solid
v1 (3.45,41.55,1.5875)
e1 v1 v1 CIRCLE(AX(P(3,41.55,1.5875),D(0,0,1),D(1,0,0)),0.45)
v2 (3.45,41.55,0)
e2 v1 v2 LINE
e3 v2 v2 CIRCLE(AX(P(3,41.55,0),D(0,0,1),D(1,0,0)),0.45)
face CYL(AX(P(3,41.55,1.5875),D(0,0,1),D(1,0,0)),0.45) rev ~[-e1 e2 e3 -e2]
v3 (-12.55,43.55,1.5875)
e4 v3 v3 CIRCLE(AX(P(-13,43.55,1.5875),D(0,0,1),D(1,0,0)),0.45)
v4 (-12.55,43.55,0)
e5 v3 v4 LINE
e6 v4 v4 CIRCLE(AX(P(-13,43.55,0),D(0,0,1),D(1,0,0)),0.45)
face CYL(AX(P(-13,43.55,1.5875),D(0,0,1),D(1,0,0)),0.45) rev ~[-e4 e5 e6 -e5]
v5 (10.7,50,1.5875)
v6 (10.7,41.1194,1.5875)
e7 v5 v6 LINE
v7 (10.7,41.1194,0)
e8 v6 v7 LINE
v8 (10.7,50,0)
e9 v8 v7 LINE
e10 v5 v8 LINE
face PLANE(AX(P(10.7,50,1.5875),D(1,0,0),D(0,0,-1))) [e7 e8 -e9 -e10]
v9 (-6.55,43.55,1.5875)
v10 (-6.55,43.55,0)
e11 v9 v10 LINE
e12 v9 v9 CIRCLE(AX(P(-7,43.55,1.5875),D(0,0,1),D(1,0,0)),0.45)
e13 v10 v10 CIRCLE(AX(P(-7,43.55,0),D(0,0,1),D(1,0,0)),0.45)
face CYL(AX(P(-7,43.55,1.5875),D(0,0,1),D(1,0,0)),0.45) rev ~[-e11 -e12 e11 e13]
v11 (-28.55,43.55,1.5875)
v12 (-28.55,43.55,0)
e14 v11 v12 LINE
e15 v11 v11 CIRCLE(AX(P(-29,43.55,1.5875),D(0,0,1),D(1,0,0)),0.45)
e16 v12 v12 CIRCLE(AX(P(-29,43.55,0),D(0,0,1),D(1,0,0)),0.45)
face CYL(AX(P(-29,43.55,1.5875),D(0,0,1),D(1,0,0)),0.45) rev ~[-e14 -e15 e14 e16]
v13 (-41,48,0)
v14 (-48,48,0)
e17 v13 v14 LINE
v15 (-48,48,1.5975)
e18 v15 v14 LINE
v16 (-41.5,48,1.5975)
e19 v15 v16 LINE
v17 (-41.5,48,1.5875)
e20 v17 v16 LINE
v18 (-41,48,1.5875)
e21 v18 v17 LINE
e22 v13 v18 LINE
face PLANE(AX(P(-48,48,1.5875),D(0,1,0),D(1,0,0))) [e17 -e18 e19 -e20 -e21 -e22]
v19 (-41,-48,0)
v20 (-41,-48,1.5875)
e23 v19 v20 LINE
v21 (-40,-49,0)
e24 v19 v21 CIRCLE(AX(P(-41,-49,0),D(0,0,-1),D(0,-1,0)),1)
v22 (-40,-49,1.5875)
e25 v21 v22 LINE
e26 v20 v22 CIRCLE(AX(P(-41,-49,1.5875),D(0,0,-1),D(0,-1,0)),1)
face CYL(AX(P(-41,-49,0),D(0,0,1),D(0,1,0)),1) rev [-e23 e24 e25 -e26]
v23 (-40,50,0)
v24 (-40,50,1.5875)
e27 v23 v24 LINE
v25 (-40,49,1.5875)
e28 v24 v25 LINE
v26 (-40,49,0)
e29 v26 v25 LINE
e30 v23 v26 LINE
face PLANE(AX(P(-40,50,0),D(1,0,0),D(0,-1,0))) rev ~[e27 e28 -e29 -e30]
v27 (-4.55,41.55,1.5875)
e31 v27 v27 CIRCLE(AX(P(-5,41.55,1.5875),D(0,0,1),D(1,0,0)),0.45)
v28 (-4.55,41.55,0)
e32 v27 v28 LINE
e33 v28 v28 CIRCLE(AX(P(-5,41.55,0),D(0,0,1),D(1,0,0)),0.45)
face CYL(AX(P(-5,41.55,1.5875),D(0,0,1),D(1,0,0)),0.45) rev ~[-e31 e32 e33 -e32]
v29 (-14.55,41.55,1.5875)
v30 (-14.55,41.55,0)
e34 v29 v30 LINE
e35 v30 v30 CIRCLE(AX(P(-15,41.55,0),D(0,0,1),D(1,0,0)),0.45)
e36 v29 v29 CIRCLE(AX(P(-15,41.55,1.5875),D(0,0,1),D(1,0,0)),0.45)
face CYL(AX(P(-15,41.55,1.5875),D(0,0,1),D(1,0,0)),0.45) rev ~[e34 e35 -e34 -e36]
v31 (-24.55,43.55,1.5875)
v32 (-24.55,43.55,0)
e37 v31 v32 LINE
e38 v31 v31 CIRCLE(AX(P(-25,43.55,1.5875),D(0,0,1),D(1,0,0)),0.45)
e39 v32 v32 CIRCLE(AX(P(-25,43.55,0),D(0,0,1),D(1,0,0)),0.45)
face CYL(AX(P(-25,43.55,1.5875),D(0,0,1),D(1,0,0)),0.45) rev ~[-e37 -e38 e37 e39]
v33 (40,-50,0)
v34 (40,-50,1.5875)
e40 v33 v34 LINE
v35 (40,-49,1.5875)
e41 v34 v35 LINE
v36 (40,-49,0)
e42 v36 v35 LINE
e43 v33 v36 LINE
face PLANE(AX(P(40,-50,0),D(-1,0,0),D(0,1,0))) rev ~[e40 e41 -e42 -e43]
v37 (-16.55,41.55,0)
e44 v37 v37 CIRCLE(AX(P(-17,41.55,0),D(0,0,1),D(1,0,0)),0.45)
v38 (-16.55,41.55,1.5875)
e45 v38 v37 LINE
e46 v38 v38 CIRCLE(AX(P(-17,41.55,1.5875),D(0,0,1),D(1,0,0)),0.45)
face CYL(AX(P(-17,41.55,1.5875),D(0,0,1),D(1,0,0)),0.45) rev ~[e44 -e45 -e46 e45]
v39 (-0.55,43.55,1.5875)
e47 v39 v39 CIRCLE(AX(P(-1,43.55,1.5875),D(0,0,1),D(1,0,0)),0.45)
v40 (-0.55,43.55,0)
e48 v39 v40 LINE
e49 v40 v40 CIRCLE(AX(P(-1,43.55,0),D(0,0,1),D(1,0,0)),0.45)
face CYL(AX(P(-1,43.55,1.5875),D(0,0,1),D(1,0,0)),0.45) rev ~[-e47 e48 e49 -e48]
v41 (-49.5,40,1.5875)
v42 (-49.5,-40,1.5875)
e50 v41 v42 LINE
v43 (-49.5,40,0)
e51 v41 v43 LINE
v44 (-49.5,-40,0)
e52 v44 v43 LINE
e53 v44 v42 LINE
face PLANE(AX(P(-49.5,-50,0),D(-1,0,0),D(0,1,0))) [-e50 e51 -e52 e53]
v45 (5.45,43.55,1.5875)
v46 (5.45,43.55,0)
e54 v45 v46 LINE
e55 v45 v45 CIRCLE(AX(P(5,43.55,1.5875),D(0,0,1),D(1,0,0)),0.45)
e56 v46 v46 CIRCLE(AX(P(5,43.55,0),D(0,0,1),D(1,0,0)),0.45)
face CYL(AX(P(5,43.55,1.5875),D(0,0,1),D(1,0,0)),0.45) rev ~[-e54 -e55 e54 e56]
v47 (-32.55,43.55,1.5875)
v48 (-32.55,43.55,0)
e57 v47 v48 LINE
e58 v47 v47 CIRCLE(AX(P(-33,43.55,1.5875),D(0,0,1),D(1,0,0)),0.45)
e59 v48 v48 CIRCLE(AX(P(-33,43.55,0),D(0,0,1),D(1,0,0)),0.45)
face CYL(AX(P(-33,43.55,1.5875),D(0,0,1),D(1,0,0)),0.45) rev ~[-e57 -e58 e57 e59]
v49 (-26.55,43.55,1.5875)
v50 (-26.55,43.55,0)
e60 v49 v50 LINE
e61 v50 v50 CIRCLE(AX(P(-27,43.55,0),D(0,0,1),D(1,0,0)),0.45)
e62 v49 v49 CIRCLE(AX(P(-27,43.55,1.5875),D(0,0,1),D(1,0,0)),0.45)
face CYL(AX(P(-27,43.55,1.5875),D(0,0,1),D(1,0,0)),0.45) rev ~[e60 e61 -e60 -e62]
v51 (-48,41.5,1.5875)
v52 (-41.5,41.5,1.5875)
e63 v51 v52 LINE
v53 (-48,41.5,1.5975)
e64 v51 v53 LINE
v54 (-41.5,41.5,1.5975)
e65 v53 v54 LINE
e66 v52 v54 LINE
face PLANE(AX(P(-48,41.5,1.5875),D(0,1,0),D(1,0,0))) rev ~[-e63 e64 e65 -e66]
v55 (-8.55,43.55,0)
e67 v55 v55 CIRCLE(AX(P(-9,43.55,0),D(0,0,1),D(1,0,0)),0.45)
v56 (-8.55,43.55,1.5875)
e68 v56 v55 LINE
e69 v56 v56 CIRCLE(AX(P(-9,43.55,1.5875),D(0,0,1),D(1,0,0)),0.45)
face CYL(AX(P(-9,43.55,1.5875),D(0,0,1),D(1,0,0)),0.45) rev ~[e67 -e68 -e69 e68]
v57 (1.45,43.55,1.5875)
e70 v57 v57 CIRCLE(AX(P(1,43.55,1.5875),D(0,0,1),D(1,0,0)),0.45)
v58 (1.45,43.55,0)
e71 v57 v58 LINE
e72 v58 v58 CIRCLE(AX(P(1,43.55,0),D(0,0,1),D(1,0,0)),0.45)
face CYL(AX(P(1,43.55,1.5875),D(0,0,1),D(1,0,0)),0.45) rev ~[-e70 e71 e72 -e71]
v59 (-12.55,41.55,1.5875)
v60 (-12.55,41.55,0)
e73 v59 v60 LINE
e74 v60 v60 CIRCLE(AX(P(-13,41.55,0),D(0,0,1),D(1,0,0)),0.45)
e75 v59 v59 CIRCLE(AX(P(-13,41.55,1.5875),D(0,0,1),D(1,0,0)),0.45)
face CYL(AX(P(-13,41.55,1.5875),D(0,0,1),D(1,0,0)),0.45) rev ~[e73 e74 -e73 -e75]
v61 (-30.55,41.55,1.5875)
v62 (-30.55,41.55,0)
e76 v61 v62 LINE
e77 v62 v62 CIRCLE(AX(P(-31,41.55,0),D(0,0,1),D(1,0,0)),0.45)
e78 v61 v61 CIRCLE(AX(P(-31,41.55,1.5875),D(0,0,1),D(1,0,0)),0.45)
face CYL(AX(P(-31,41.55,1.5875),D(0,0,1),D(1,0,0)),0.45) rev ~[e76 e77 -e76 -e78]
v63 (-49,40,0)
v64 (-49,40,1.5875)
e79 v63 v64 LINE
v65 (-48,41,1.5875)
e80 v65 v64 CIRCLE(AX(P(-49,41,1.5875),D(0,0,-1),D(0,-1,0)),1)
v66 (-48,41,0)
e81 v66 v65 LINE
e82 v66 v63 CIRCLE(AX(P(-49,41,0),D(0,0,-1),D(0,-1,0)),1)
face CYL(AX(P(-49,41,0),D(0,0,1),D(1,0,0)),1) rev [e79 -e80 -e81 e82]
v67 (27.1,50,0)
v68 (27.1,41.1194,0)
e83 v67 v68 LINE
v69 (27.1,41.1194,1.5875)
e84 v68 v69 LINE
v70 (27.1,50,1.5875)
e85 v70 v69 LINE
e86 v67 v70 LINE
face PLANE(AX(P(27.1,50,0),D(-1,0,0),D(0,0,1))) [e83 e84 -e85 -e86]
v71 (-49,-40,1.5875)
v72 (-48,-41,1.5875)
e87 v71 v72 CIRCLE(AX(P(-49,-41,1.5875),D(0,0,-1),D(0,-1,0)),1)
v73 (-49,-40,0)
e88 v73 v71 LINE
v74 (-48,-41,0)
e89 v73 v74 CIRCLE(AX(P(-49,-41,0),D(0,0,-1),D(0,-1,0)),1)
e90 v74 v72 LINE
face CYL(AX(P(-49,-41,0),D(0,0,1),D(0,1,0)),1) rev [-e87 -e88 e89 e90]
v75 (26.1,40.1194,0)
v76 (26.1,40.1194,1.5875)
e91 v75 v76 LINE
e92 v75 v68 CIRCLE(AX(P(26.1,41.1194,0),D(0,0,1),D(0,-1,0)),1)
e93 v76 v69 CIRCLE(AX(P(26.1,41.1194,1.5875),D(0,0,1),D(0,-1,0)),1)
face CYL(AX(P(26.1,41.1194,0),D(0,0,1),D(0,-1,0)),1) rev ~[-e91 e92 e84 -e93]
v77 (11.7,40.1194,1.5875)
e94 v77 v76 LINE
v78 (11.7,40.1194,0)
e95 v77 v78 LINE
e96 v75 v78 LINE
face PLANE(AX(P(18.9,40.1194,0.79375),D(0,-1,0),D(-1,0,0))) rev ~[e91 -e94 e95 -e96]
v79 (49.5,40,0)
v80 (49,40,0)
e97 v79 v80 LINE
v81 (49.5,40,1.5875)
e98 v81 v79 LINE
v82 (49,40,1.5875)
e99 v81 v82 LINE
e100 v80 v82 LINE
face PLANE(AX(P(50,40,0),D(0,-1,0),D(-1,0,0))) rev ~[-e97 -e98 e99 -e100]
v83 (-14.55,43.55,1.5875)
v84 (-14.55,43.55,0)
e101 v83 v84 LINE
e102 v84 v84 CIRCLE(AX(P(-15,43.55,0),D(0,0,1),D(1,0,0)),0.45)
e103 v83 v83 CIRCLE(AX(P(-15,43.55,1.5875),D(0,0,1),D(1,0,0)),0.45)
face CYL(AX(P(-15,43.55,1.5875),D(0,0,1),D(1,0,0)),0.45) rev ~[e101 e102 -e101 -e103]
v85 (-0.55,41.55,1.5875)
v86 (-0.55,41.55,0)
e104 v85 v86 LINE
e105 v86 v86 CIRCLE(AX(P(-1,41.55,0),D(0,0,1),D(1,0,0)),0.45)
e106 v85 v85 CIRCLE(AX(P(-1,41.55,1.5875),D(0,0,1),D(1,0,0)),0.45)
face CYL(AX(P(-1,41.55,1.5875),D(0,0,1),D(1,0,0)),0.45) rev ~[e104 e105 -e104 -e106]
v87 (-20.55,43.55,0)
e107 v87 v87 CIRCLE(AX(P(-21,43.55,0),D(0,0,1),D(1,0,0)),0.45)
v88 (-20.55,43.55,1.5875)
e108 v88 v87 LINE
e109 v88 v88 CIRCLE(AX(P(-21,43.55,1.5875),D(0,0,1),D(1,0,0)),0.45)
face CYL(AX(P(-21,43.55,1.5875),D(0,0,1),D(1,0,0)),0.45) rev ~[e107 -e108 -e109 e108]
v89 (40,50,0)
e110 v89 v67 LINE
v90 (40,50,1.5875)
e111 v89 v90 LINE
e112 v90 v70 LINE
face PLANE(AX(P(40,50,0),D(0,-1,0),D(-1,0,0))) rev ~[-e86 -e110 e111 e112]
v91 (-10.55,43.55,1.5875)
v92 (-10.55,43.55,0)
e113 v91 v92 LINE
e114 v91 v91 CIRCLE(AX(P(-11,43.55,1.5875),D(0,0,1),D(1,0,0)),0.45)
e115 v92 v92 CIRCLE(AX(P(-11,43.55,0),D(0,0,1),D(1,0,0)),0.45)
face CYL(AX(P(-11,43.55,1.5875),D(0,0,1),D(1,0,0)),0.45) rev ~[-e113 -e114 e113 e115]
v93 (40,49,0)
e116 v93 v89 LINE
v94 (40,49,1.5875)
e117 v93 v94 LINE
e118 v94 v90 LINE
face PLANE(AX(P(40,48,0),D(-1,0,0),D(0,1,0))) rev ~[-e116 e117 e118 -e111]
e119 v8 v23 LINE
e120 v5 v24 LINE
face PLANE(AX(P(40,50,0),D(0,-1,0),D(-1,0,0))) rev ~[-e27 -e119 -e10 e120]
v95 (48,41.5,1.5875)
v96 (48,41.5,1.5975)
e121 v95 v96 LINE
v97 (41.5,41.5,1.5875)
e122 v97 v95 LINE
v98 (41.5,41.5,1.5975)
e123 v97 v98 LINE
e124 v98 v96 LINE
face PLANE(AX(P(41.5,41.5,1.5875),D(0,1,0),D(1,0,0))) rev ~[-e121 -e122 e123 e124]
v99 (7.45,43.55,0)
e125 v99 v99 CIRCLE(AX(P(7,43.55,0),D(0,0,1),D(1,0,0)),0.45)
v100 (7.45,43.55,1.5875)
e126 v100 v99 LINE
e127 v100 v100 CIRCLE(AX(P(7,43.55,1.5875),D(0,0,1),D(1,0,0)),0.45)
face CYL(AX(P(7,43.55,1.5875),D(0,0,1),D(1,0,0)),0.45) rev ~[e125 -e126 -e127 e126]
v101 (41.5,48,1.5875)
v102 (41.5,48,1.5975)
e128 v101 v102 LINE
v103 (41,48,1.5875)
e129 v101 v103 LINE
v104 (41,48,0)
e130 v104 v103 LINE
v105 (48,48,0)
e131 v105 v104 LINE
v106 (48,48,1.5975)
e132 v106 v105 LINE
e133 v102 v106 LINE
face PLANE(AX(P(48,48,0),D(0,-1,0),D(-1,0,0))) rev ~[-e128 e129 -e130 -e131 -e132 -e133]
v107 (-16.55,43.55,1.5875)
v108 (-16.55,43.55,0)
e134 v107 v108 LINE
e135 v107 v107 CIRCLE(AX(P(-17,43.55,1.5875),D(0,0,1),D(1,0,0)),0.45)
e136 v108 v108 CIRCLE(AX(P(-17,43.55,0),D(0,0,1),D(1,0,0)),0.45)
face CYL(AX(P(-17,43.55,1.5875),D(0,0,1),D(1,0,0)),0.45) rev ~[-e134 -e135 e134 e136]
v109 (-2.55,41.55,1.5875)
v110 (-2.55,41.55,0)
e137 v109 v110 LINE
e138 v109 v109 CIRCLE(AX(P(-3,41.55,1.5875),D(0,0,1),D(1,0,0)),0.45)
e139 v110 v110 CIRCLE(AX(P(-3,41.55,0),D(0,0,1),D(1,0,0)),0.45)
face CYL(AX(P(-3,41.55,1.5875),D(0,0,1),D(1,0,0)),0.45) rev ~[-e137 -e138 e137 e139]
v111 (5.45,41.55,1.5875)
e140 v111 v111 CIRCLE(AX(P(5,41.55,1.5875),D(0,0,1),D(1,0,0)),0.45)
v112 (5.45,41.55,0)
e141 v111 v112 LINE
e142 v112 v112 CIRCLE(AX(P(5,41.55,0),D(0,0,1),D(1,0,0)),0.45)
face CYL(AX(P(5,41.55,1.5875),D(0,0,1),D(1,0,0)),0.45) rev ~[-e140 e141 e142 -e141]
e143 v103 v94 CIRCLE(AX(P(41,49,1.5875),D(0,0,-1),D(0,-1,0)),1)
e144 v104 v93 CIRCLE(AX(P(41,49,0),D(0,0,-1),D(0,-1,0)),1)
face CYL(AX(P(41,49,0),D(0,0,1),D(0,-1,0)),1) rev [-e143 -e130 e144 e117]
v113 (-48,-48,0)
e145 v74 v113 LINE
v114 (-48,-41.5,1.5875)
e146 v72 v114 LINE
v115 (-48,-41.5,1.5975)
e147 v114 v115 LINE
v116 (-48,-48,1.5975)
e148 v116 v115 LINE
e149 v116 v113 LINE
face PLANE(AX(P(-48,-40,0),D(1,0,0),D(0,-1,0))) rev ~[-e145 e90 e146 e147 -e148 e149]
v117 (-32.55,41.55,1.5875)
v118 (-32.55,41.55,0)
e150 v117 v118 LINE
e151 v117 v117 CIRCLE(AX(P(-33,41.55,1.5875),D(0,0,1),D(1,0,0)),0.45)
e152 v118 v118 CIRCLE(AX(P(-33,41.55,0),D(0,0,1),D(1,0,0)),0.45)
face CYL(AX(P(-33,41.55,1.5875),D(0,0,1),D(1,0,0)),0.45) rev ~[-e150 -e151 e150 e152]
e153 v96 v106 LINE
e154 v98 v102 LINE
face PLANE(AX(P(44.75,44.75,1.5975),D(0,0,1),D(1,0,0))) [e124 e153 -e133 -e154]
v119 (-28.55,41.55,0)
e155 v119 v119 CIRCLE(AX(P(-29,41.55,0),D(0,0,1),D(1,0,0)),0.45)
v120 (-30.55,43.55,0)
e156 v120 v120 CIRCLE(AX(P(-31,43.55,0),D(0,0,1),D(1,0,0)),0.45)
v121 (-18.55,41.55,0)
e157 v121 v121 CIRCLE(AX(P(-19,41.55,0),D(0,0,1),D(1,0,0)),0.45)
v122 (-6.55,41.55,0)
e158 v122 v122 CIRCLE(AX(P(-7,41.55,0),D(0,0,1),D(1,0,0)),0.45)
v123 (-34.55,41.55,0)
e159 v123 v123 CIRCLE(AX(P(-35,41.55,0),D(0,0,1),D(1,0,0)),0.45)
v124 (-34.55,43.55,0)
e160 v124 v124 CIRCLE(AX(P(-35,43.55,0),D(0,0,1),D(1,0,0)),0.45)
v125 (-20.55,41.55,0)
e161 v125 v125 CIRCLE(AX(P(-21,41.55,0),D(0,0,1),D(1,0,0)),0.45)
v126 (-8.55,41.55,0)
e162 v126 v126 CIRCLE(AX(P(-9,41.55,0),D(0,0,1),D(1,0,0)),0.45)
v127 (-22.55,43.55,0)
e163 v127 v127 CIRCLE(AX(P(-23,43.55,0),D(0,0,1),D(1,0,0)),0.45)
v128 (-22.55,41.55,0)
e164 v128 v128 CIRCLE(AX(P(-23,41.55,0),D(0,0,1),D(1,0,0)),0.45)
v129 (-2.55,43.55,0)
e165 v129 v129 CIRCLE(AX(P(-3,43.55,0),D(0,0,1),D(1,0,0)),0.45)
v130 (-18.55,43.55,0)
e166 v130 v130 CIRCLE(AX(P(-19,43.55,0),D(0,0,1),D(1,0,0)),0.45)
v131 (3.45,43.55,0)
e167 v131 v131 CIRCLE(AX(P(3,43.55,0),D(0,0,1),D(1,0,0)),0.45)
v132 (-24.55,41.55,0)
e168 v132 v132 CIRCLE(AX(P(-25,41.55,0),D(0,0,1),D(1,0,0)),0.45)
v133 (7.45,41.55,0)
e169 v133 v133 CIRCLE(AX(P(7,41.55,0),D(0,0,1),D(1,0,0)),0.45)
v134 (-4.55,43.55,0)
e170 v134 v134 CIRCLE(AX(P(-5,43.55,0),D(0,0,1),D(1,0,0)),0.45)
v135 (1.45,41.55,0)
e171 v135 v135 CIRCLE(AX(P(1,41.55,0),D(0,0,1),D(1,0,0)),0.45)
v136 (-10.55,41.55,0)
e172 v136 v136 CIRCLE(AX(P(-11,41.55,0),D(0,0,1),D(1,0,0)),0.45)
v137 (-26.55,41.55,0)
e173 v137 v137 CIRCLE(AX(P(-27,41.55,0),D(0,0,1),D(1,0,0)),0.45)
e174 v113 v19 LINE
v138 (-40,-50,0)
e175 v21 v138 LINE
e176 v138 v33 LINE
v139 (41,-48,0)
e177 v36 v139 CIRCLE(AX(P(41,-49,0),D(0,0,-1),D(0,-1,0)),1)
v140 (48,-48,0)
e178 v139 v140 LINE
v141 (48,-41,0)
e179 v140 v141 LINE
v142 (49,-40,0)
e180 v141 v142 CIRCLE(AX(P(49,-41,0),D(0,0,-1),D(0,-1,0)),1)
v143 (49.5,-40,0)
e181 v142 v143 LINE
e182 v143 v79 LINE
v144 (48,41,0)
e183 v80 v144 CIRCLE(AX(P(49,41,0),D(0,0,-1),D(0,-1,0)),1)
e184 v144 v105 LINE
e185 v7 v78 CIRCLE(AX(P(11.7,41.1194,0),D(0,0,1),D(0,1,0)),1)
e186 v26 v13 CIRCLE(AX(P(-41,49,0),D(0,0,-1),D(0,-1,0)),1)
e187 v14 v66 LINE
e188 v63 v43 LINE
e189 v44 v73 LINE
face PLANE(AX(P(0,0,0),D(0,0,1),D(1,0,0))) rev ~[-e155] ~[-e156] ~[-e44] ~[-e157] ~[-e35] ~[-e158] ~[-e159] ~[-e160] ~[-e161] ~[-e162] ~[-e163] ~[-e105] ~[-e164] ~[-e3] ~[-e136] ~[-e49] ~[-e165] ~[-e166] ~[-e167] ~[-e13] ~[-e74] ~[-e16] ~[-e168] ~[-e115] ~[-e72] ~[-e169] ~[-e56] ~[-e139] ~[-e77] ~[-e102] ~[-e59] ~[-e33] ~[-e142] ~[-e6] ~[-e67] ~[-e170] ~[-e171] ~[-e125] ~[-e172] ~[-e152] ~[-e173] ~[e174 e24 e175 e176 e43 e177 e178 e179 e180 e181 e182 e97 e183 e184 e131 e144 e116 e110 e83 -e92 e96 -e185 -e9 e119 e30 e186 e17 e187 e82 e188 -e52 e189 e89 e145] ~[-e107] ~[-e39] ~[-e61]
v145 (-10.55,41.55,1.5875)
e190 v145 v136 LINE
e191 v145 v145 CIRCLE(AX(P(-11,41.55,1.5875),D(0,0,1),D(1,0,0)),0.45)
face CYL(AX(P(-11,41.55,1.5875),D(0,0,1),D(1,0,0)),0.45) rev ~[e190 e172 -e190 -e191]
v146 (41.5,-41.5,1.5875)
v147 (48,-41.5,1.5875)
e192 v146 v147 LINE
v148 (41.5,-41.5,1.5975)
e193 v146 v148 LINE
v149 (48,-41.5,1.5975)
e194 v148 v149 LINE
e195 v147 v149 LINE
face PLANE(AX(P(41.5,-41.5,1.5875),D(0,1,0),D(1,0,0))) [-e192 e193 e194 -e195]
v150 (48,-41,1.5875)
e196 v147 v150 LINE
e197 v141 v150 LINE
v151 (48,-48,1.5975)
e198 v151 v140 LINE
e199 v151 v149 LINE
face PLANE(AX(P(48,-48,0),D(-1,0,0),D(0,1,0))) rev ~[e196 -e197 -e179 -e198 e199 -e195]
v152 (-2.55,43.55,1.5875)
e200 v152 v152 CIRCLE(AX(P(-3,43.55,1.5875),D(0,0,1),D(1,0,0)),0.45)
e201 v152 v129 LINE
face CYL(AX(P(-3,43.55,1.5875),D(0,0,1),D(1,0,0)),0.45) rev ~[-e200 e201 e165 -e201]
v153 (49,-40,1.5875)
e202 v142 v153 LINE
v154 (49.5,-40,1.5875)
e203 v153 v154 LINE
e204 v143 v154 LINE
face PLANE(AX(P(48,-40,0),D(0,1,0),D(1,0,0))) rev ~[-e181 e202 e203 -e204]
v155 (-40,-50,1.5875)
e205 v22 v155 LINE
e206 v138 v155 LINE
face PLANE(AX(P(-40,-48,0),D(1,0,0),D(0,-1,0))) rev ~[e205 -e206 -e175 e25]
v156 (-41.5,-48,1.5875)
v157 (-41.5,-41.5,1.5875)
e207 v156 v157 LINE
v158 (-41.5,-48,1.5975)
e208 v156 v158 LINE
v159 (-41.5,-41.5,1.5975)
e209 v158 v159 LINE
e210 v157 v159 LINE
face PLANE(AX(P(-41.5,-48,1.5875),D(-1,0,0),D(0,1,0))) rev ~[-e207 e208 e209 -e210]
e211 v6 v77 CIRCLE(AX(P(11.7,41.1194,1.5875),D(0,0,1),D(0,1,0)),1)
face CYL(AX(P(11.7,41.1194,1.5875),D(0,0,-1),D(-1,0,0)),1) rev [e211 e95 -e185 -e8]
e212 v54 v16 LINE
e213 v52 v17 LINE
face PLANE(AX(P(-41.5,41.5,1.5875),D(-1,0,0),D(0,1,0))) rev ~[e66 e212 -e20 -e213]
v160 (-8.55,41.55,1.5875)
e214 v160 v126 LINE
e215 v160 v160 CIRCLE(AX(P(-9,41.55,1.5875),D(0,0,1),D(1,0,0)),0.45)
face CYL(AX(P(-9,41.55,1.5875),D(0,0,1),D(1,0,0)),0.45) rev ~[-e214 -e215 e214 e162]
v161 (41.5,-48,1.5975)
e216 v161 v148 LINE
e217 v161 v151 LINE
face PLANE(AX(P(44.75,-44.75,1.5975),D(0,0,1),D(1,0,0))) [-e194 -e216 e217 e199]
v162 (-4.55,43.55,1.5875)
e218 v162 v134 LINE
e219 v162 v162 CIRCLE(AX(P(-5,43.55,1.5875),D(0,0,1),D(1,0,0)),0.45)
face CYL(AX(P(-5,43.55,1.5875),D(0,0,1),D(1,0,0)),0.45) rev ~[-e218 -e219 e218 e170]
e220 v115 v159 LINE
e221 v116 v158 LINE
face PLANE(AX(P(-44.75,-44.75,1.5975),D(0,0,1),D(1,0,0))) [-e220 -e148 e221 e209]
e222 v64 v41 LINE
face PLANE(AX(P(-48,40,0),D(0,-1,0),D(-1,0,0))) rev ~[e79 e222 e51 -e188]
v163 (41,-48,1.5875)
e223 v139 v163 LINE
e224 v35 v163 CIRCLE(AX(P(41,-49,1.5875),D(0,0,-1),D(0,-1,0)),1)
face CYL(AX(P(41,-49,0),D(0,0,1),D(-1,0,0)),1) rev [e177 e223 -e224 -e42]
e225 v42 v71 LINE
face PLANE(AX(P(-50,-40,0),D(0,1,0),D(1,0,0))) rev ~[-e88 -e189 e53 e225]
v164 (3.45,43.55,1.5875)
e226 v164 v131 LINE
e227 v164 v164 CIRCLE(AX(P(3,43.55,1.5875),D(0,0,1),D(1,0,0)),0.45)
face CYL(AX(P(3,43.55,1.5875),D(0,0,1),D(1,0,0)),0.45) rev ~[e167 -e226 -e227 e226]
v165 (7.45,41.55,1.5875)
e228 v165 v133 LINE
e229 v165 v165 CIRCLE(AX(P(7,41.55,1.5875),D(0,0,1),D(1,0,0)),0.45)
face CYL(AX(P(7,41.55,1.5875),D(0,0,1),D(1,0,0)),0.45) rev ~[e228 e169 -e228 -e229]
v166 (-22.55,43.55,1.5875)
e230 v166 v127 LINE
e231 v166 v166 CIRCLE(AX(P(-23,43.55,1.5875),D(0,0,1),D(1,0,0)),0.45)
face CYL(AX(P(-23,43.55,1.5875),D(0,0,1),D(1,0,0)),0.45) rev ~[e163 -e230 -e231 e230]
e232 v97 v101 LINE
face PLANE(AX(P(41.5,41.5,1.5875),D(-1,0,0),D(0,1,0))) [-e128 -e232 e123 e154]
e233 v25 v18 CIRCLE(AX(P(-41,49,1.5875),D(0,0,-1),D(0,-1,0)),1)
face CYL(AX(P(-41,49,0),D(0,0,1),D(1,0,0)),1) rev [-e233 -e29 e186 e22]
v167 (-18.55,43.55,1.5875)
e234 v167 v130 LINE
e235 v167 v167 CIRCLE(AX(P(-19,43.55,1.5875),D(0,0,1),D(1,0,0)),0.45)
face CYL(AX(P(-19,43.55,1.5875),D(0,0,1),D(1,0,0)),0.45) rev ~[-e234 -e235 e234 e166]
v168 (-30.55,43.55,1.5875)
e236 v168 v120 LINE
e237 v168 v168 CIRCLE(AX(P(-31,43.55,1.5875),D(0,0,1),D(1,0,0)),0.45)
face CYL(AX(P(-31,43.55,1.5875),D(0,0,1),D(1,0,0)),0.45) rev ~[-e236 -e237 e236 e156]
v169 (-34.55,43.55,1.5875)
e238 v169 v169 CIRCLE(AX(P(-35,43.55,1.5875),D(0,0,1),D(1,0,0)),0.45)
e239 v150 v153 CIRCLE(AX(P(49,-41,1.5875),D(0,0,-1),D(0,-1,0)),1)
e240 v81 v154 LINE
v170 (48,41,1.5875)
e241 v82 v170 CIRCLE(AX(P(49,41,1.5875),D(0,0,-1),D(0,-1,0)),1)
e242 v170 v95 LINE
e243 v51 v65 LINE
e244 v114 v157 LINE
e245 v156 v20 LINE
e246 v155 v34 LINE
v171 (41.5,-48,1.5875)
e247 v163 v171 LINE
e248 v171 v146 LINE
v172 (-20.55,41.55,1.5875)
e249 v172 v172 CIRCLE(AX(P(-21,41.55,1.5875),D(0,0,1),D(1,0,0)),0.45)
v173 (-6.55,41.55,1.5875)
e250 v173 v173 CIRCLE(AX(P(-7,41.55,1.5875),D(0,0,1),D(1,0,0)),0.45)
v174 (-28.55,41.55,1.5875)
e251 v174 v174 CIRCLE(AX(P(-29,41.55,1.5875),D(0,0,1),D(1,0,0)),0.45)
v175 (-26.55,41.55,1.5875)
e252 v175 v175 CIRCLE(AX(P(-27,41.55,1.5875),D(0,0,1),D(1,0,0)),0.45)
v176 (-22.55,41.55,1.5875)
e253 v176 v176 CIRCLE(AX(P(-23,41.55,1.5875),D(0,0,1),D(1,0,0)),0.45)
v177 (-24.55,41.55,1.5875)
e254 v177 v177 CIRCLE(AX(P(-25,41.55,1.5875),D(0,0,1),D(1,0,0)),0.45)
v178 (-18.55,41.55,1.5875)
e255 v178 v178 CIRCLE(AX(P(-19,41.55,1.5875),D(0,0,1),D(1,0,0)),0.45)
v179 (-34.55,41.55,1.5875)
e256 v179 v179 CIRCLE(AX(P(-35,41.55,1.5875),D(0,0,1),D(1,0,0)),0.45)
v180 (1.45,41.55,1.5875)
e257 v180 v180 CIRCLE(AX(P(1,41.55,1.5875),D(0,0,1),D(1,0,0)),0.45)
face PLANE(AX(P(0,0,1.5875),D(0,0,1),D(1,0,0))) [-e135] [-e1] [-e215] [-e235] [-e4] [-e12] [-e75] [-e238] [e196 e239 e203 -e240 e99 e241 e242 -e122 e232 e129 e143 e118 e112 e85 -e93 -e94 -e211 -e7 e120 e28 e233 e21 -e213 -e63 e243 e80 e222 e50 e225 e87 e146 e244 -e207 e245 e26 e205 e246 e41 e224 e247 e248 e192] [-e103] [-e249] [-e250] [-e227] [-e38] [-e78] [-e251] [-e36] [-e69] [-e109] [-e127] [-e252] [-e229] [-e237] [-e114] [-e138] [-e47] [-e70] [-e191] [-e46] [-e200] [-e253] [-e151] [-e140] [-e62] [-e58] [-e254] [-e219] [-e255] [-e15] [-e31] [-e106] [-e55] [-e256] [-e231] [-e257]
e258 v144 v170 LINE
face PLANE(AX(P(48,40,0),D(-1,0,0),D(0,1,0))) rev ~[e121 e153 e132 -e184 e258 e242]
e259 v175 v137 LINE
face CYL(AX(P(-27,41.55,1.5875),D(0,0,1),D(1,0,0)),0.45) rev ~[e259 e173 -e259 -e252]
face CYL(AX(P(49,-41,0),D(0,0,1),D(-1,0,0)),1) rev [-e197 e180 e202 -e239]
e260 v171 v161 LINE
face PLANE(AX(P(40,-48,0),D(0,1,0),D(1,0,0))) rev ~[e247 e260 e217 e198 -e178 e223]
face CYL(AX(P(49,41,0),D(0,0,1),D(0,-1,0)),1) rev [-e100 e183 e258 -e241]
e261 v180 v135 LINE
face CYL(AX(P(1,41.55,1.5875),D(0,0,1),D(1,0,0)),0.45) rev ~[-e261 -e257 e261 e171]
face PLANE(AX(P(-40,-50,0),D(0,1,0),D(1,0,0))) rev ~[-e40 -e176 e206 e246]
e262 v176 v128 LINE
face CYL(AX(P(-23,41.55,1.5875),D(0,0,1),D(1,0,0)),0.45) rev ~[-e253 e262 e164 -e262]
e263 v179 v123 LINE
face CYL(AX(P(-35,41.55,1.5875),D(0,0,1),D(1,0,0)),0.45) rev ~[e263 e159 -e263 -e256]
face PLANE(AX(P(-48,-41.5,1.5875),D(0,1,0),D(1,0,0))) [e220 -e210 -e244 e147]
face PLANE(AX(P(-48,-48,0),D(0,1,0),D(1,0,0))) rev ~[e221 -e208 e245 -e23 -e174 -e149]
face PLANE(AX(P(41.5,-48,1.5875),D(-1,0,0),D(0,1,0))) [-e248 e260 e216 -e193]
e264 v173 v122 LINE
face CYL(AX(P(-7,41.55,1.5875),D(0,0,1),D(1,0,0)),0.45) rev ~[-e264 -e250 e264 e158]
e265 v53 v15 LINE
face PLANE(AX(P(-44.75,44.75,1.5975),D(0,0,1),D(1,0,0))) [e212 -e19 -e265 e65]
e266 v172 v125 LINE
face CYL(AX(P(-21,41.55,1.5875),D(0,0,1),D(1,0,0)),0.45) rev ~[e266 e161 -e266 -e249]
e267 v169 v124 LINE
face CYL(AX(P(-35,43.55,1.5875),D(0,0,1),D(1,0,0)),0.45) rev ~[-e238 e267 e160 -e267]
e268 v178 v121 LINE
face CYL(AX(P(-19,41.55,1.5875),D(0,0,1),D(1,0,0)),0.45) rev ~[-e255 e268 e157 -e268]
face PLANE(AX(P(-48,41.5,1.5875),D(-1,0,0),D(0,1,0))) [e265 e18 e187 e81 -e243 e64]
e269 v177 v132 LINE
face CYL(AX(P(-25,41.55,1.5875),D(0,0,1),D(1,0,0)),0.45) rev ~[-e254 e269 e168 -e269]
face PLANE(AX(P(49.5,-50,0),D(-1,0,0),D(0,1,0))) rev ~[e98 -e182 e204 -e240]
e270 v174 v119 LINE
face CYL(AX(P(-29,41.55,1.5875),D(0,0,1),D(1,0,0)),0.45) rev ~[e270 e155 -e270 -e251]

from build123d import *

# Parameters (mm, degrees)
BOSS_EXTRUDE1_DEPTH = 1.5875
FILLET1_R           = 1
SKETCH2_R           = 0.45
CUT_EXTRUDE1_DEPTH  = 71.728496069
CUT_EXTRUDE2_DEPTH  = 9.8806
FILLET2_R           = 1
SKETCH4_W           = 6.5
SKETCH4_H           = 6.5
BOSS_EXTRUDE2_DEPTH = 0.01
SKETCH5_OUTSIDE_W   = 130.286
SKETCH5_OUTSIDE_H   = 130.286
SKETCH5_OUTSIDE_W_2 = 99
SKETCH5_OUTSIDE_H_2 = 100
CUT_EXTRUDE3_DEPTH  = 71.728721226


with BuildPart() as part:
    # Sketch1 → Boss-Extrude1 (new body)
    with BuildSketch(Plane.XY):
        Polygon((40, 50), (-40, 50), (-40, 48), (-48, 48), (-48, 40), (-50, 40), (-50, -37.864895224), (-50, -40), (-48, -40), (-48, -48), (-40, -48), (-40, -50), (-37.864895224, -50), (40, -50), (40, -48), (48, -48), (48, -40), (50, -40), (50, 40), (48, 40), (48, 48), (40, 48), align=None)
    extrude(amount=BOSS_EXTRUDE1_DEPTH)

    # Fillet1
    fillet1_edges = [part.edges().sort_by_distance(p)[0] for p in [
        (-48, -40, 0.79375),
        (-48, 40, 0.79375),
        (-40, 48, 0.79375),
        (40, 48, 0.79375),
        (48, 40, 0.79375),
        (48, -40, 0.79375),
        (40, -48, 0.79375),
        (-40, -48, 0.79375),
    ]]
    fillet(fillet1_edges, radius=FILLET1_R)

    # Sketch2 → Cut-Extrude1 (cut, through all)
    with BuildSketch(Plane.XY.offset(1.5875)):
        with Locations((-35, 43.55)):
            Circle(SKETCH2_R)
        with Locations((-33, 43.55)):
            Circle(SKETCH2_R)
        with Locations((-31, 43.55)):
            Circle(SKETCH2_R)
        with Locations((-29, 43.55)):
            Circle(SKETCH2_R)
        with Locations((-27, 43.55)):
            Circle(SKETCH2_R)
        with Locations((-25, 43.55)):
            Circle(SKETCH2_R)
        with Locations((-23, 43.55)):
            Circle(SKETCH2_R)
        with Locations((-21, 43.55)):
            Circle(SKETCH2_R)
        with Locations((-19, 43.55)):
            Circle(SKETCH2_R)
        with Locations((-17, 43.55)):
            Circle(SKETCH2_R)
        with Locations((-15, 43.55)):
            Circle(SKETCH2_R)
        with Locations((-13, 43.55)):
            Circle(SKETCH2_R)
        with Locations((-11, 43.55)):
            Circle(SKETCH2_R)
        with Locations((-9, 43.55)):
            Circle(SKETCH2_R)
        with Locations((-7, 43.55)):
            Circle(SKETCH2_R)
        with Locations((-5, 43.55)):
            Circle(SKETCH2_R)
        with Locations((-3, 43.55)):
            Circle(SKETCH2_R)
        with Locations((-1, 43.55)):
            Circle(SKETCH2_R)
        with Locations((1, 43.55)):
            Circle(SKETCH2_R)
        with Locations((3, 43.55)):
            Circle(SKETCH2_R)
        with Locations((5, 43.55)):
            Circle(SKETCH2_R)
        with Locations((7, 43.55)):
            Circle(SKETCH2_R)
        with Locations((-33, 41.55)):
            Circle(SKETCH2_R)
        with Locations((-31, 41.55)):
            Circle(SKETCH2_R)
        with Locations((-29, 41.55)):
            Circle(SKETCH2_R)
        with Locations((-27, 41.55)):
            Circle(SKETCH2_R)
        with Locations((-25, 41.55)):
            Circle(SKETCH2_R)
        with Locations((-23, 41.55)):
            Circle(SKETCH2_R)
        with Locations((-21, 41.55)):
            Circle(SKETCH2_R)
        with Locations((-19, 41.55)):
            Circle(SKETCH2_R)
        with Locations((-17, 41.55)):
            Circle(SKETCH2_R)
        with Locations((-15, 41.55)):
            Circle(SKETCH2_R)
        with Locations((-13, 41.55)):
            Circle(SKETCH2_R)
        with Locations((-11, 41.55)):
            Circle(SKETCH2_R)
        with Locations((-9, 41.55)):
            Circle(SKETCH2_R)
        with Locations((-7, 41.55)):
            Circle(SKETCH2_R)
        with Locations((-5, 41.55)):
            Circle(SKETCH2_R)
        with Locations((-3, 41.55)):
            Circle(SKETCH2_R)
        with Locations((-1, 41.55)):
            Circle(SKETCH2_R)
        with Locations((1, 41.55)):
            Circle(SKETCH2_R)
        with Locations((3, 41.55)):
            Circle(SKETCH2_R)
        with Locations((5, 41.55)):
            Circle(SKETCH2_R)
        with Locations((7, 41.55)):
            Circle(SKETCH2_R)
        with Locations((-35, 41.55)):
            Circle(SKETCH2_R)
    extrude(amount=-CUT_EXTRUDE1_DEPTH, mode=Mode.SUBTRACT)

    # Sketch3 → Cut-Extrude2 (cut)
    with BuildSketch(Plane(origin=(0, 50, 0), x_dir=(1, 0, 0), z_dir=(0, 1, 0))):
        Polygon((10.7, 0), (19.7, 0), (27.1, 0), (27.1, -1.5875), (19.7, -1.5875), (10.7, -1.5875), align=None)
    extrude(amount=-CUT_EXTRUDE2_DEPTH, mode=Mode.SUBTRACT)

    # Fillet2
    fillet2_edges = [part.edges().sort_by_distance(p)[0] for p in [
        (10.7, 40.1194, 0.79375),
        (27.1, 40.1194, 0.79375),
    ]]
    fillet(fillet2_edges, radius=FILLET2_R)

    # Sketch4 → Boss-Extrude2 (add)
    with BuildSketch(Plane.XY.offset(1.5875)):
        with Locations((-44.75, 44.75)):
            Rectangle(SKETCH4_W, SKETCH4_H)
        with Locations((-44.75, -44.75)):
            Rectangle(SKETCH4_W, SKETCH4_H)
        with Locations((44.75, -44.75)):
            Rectangle(SKETCH4_W, SKETCH4_H)
        with Locations((44.75, 44.75)):
            Rectangle(SKETCH4_W, SKETCH4_H)
    extrude(amount=BOSS_EXTRUDE2_DEPTH)

    # Sketch5 outside → Cut-Extrude3 (cut, through all)
    with BuildSketch(Plane(origin=(0, 0, 0), x_dir=(-1, 0, 0), z_dir=(0, 0, -1))):
        Rectangle(SKETCH5_OUTSIDE_W, SKETCH5_OUTSIDE_H)
        Rectangle(SKETCH5_OUTSIDE_W_2, SKETCH5_OUTSIDE_H_2, mode=Mode.SUBTRACT)
    extrude(amount=-CUT_EXTRUDE3_DEPTH, mode=Mode.SUBTRACT)


solid = part.part
